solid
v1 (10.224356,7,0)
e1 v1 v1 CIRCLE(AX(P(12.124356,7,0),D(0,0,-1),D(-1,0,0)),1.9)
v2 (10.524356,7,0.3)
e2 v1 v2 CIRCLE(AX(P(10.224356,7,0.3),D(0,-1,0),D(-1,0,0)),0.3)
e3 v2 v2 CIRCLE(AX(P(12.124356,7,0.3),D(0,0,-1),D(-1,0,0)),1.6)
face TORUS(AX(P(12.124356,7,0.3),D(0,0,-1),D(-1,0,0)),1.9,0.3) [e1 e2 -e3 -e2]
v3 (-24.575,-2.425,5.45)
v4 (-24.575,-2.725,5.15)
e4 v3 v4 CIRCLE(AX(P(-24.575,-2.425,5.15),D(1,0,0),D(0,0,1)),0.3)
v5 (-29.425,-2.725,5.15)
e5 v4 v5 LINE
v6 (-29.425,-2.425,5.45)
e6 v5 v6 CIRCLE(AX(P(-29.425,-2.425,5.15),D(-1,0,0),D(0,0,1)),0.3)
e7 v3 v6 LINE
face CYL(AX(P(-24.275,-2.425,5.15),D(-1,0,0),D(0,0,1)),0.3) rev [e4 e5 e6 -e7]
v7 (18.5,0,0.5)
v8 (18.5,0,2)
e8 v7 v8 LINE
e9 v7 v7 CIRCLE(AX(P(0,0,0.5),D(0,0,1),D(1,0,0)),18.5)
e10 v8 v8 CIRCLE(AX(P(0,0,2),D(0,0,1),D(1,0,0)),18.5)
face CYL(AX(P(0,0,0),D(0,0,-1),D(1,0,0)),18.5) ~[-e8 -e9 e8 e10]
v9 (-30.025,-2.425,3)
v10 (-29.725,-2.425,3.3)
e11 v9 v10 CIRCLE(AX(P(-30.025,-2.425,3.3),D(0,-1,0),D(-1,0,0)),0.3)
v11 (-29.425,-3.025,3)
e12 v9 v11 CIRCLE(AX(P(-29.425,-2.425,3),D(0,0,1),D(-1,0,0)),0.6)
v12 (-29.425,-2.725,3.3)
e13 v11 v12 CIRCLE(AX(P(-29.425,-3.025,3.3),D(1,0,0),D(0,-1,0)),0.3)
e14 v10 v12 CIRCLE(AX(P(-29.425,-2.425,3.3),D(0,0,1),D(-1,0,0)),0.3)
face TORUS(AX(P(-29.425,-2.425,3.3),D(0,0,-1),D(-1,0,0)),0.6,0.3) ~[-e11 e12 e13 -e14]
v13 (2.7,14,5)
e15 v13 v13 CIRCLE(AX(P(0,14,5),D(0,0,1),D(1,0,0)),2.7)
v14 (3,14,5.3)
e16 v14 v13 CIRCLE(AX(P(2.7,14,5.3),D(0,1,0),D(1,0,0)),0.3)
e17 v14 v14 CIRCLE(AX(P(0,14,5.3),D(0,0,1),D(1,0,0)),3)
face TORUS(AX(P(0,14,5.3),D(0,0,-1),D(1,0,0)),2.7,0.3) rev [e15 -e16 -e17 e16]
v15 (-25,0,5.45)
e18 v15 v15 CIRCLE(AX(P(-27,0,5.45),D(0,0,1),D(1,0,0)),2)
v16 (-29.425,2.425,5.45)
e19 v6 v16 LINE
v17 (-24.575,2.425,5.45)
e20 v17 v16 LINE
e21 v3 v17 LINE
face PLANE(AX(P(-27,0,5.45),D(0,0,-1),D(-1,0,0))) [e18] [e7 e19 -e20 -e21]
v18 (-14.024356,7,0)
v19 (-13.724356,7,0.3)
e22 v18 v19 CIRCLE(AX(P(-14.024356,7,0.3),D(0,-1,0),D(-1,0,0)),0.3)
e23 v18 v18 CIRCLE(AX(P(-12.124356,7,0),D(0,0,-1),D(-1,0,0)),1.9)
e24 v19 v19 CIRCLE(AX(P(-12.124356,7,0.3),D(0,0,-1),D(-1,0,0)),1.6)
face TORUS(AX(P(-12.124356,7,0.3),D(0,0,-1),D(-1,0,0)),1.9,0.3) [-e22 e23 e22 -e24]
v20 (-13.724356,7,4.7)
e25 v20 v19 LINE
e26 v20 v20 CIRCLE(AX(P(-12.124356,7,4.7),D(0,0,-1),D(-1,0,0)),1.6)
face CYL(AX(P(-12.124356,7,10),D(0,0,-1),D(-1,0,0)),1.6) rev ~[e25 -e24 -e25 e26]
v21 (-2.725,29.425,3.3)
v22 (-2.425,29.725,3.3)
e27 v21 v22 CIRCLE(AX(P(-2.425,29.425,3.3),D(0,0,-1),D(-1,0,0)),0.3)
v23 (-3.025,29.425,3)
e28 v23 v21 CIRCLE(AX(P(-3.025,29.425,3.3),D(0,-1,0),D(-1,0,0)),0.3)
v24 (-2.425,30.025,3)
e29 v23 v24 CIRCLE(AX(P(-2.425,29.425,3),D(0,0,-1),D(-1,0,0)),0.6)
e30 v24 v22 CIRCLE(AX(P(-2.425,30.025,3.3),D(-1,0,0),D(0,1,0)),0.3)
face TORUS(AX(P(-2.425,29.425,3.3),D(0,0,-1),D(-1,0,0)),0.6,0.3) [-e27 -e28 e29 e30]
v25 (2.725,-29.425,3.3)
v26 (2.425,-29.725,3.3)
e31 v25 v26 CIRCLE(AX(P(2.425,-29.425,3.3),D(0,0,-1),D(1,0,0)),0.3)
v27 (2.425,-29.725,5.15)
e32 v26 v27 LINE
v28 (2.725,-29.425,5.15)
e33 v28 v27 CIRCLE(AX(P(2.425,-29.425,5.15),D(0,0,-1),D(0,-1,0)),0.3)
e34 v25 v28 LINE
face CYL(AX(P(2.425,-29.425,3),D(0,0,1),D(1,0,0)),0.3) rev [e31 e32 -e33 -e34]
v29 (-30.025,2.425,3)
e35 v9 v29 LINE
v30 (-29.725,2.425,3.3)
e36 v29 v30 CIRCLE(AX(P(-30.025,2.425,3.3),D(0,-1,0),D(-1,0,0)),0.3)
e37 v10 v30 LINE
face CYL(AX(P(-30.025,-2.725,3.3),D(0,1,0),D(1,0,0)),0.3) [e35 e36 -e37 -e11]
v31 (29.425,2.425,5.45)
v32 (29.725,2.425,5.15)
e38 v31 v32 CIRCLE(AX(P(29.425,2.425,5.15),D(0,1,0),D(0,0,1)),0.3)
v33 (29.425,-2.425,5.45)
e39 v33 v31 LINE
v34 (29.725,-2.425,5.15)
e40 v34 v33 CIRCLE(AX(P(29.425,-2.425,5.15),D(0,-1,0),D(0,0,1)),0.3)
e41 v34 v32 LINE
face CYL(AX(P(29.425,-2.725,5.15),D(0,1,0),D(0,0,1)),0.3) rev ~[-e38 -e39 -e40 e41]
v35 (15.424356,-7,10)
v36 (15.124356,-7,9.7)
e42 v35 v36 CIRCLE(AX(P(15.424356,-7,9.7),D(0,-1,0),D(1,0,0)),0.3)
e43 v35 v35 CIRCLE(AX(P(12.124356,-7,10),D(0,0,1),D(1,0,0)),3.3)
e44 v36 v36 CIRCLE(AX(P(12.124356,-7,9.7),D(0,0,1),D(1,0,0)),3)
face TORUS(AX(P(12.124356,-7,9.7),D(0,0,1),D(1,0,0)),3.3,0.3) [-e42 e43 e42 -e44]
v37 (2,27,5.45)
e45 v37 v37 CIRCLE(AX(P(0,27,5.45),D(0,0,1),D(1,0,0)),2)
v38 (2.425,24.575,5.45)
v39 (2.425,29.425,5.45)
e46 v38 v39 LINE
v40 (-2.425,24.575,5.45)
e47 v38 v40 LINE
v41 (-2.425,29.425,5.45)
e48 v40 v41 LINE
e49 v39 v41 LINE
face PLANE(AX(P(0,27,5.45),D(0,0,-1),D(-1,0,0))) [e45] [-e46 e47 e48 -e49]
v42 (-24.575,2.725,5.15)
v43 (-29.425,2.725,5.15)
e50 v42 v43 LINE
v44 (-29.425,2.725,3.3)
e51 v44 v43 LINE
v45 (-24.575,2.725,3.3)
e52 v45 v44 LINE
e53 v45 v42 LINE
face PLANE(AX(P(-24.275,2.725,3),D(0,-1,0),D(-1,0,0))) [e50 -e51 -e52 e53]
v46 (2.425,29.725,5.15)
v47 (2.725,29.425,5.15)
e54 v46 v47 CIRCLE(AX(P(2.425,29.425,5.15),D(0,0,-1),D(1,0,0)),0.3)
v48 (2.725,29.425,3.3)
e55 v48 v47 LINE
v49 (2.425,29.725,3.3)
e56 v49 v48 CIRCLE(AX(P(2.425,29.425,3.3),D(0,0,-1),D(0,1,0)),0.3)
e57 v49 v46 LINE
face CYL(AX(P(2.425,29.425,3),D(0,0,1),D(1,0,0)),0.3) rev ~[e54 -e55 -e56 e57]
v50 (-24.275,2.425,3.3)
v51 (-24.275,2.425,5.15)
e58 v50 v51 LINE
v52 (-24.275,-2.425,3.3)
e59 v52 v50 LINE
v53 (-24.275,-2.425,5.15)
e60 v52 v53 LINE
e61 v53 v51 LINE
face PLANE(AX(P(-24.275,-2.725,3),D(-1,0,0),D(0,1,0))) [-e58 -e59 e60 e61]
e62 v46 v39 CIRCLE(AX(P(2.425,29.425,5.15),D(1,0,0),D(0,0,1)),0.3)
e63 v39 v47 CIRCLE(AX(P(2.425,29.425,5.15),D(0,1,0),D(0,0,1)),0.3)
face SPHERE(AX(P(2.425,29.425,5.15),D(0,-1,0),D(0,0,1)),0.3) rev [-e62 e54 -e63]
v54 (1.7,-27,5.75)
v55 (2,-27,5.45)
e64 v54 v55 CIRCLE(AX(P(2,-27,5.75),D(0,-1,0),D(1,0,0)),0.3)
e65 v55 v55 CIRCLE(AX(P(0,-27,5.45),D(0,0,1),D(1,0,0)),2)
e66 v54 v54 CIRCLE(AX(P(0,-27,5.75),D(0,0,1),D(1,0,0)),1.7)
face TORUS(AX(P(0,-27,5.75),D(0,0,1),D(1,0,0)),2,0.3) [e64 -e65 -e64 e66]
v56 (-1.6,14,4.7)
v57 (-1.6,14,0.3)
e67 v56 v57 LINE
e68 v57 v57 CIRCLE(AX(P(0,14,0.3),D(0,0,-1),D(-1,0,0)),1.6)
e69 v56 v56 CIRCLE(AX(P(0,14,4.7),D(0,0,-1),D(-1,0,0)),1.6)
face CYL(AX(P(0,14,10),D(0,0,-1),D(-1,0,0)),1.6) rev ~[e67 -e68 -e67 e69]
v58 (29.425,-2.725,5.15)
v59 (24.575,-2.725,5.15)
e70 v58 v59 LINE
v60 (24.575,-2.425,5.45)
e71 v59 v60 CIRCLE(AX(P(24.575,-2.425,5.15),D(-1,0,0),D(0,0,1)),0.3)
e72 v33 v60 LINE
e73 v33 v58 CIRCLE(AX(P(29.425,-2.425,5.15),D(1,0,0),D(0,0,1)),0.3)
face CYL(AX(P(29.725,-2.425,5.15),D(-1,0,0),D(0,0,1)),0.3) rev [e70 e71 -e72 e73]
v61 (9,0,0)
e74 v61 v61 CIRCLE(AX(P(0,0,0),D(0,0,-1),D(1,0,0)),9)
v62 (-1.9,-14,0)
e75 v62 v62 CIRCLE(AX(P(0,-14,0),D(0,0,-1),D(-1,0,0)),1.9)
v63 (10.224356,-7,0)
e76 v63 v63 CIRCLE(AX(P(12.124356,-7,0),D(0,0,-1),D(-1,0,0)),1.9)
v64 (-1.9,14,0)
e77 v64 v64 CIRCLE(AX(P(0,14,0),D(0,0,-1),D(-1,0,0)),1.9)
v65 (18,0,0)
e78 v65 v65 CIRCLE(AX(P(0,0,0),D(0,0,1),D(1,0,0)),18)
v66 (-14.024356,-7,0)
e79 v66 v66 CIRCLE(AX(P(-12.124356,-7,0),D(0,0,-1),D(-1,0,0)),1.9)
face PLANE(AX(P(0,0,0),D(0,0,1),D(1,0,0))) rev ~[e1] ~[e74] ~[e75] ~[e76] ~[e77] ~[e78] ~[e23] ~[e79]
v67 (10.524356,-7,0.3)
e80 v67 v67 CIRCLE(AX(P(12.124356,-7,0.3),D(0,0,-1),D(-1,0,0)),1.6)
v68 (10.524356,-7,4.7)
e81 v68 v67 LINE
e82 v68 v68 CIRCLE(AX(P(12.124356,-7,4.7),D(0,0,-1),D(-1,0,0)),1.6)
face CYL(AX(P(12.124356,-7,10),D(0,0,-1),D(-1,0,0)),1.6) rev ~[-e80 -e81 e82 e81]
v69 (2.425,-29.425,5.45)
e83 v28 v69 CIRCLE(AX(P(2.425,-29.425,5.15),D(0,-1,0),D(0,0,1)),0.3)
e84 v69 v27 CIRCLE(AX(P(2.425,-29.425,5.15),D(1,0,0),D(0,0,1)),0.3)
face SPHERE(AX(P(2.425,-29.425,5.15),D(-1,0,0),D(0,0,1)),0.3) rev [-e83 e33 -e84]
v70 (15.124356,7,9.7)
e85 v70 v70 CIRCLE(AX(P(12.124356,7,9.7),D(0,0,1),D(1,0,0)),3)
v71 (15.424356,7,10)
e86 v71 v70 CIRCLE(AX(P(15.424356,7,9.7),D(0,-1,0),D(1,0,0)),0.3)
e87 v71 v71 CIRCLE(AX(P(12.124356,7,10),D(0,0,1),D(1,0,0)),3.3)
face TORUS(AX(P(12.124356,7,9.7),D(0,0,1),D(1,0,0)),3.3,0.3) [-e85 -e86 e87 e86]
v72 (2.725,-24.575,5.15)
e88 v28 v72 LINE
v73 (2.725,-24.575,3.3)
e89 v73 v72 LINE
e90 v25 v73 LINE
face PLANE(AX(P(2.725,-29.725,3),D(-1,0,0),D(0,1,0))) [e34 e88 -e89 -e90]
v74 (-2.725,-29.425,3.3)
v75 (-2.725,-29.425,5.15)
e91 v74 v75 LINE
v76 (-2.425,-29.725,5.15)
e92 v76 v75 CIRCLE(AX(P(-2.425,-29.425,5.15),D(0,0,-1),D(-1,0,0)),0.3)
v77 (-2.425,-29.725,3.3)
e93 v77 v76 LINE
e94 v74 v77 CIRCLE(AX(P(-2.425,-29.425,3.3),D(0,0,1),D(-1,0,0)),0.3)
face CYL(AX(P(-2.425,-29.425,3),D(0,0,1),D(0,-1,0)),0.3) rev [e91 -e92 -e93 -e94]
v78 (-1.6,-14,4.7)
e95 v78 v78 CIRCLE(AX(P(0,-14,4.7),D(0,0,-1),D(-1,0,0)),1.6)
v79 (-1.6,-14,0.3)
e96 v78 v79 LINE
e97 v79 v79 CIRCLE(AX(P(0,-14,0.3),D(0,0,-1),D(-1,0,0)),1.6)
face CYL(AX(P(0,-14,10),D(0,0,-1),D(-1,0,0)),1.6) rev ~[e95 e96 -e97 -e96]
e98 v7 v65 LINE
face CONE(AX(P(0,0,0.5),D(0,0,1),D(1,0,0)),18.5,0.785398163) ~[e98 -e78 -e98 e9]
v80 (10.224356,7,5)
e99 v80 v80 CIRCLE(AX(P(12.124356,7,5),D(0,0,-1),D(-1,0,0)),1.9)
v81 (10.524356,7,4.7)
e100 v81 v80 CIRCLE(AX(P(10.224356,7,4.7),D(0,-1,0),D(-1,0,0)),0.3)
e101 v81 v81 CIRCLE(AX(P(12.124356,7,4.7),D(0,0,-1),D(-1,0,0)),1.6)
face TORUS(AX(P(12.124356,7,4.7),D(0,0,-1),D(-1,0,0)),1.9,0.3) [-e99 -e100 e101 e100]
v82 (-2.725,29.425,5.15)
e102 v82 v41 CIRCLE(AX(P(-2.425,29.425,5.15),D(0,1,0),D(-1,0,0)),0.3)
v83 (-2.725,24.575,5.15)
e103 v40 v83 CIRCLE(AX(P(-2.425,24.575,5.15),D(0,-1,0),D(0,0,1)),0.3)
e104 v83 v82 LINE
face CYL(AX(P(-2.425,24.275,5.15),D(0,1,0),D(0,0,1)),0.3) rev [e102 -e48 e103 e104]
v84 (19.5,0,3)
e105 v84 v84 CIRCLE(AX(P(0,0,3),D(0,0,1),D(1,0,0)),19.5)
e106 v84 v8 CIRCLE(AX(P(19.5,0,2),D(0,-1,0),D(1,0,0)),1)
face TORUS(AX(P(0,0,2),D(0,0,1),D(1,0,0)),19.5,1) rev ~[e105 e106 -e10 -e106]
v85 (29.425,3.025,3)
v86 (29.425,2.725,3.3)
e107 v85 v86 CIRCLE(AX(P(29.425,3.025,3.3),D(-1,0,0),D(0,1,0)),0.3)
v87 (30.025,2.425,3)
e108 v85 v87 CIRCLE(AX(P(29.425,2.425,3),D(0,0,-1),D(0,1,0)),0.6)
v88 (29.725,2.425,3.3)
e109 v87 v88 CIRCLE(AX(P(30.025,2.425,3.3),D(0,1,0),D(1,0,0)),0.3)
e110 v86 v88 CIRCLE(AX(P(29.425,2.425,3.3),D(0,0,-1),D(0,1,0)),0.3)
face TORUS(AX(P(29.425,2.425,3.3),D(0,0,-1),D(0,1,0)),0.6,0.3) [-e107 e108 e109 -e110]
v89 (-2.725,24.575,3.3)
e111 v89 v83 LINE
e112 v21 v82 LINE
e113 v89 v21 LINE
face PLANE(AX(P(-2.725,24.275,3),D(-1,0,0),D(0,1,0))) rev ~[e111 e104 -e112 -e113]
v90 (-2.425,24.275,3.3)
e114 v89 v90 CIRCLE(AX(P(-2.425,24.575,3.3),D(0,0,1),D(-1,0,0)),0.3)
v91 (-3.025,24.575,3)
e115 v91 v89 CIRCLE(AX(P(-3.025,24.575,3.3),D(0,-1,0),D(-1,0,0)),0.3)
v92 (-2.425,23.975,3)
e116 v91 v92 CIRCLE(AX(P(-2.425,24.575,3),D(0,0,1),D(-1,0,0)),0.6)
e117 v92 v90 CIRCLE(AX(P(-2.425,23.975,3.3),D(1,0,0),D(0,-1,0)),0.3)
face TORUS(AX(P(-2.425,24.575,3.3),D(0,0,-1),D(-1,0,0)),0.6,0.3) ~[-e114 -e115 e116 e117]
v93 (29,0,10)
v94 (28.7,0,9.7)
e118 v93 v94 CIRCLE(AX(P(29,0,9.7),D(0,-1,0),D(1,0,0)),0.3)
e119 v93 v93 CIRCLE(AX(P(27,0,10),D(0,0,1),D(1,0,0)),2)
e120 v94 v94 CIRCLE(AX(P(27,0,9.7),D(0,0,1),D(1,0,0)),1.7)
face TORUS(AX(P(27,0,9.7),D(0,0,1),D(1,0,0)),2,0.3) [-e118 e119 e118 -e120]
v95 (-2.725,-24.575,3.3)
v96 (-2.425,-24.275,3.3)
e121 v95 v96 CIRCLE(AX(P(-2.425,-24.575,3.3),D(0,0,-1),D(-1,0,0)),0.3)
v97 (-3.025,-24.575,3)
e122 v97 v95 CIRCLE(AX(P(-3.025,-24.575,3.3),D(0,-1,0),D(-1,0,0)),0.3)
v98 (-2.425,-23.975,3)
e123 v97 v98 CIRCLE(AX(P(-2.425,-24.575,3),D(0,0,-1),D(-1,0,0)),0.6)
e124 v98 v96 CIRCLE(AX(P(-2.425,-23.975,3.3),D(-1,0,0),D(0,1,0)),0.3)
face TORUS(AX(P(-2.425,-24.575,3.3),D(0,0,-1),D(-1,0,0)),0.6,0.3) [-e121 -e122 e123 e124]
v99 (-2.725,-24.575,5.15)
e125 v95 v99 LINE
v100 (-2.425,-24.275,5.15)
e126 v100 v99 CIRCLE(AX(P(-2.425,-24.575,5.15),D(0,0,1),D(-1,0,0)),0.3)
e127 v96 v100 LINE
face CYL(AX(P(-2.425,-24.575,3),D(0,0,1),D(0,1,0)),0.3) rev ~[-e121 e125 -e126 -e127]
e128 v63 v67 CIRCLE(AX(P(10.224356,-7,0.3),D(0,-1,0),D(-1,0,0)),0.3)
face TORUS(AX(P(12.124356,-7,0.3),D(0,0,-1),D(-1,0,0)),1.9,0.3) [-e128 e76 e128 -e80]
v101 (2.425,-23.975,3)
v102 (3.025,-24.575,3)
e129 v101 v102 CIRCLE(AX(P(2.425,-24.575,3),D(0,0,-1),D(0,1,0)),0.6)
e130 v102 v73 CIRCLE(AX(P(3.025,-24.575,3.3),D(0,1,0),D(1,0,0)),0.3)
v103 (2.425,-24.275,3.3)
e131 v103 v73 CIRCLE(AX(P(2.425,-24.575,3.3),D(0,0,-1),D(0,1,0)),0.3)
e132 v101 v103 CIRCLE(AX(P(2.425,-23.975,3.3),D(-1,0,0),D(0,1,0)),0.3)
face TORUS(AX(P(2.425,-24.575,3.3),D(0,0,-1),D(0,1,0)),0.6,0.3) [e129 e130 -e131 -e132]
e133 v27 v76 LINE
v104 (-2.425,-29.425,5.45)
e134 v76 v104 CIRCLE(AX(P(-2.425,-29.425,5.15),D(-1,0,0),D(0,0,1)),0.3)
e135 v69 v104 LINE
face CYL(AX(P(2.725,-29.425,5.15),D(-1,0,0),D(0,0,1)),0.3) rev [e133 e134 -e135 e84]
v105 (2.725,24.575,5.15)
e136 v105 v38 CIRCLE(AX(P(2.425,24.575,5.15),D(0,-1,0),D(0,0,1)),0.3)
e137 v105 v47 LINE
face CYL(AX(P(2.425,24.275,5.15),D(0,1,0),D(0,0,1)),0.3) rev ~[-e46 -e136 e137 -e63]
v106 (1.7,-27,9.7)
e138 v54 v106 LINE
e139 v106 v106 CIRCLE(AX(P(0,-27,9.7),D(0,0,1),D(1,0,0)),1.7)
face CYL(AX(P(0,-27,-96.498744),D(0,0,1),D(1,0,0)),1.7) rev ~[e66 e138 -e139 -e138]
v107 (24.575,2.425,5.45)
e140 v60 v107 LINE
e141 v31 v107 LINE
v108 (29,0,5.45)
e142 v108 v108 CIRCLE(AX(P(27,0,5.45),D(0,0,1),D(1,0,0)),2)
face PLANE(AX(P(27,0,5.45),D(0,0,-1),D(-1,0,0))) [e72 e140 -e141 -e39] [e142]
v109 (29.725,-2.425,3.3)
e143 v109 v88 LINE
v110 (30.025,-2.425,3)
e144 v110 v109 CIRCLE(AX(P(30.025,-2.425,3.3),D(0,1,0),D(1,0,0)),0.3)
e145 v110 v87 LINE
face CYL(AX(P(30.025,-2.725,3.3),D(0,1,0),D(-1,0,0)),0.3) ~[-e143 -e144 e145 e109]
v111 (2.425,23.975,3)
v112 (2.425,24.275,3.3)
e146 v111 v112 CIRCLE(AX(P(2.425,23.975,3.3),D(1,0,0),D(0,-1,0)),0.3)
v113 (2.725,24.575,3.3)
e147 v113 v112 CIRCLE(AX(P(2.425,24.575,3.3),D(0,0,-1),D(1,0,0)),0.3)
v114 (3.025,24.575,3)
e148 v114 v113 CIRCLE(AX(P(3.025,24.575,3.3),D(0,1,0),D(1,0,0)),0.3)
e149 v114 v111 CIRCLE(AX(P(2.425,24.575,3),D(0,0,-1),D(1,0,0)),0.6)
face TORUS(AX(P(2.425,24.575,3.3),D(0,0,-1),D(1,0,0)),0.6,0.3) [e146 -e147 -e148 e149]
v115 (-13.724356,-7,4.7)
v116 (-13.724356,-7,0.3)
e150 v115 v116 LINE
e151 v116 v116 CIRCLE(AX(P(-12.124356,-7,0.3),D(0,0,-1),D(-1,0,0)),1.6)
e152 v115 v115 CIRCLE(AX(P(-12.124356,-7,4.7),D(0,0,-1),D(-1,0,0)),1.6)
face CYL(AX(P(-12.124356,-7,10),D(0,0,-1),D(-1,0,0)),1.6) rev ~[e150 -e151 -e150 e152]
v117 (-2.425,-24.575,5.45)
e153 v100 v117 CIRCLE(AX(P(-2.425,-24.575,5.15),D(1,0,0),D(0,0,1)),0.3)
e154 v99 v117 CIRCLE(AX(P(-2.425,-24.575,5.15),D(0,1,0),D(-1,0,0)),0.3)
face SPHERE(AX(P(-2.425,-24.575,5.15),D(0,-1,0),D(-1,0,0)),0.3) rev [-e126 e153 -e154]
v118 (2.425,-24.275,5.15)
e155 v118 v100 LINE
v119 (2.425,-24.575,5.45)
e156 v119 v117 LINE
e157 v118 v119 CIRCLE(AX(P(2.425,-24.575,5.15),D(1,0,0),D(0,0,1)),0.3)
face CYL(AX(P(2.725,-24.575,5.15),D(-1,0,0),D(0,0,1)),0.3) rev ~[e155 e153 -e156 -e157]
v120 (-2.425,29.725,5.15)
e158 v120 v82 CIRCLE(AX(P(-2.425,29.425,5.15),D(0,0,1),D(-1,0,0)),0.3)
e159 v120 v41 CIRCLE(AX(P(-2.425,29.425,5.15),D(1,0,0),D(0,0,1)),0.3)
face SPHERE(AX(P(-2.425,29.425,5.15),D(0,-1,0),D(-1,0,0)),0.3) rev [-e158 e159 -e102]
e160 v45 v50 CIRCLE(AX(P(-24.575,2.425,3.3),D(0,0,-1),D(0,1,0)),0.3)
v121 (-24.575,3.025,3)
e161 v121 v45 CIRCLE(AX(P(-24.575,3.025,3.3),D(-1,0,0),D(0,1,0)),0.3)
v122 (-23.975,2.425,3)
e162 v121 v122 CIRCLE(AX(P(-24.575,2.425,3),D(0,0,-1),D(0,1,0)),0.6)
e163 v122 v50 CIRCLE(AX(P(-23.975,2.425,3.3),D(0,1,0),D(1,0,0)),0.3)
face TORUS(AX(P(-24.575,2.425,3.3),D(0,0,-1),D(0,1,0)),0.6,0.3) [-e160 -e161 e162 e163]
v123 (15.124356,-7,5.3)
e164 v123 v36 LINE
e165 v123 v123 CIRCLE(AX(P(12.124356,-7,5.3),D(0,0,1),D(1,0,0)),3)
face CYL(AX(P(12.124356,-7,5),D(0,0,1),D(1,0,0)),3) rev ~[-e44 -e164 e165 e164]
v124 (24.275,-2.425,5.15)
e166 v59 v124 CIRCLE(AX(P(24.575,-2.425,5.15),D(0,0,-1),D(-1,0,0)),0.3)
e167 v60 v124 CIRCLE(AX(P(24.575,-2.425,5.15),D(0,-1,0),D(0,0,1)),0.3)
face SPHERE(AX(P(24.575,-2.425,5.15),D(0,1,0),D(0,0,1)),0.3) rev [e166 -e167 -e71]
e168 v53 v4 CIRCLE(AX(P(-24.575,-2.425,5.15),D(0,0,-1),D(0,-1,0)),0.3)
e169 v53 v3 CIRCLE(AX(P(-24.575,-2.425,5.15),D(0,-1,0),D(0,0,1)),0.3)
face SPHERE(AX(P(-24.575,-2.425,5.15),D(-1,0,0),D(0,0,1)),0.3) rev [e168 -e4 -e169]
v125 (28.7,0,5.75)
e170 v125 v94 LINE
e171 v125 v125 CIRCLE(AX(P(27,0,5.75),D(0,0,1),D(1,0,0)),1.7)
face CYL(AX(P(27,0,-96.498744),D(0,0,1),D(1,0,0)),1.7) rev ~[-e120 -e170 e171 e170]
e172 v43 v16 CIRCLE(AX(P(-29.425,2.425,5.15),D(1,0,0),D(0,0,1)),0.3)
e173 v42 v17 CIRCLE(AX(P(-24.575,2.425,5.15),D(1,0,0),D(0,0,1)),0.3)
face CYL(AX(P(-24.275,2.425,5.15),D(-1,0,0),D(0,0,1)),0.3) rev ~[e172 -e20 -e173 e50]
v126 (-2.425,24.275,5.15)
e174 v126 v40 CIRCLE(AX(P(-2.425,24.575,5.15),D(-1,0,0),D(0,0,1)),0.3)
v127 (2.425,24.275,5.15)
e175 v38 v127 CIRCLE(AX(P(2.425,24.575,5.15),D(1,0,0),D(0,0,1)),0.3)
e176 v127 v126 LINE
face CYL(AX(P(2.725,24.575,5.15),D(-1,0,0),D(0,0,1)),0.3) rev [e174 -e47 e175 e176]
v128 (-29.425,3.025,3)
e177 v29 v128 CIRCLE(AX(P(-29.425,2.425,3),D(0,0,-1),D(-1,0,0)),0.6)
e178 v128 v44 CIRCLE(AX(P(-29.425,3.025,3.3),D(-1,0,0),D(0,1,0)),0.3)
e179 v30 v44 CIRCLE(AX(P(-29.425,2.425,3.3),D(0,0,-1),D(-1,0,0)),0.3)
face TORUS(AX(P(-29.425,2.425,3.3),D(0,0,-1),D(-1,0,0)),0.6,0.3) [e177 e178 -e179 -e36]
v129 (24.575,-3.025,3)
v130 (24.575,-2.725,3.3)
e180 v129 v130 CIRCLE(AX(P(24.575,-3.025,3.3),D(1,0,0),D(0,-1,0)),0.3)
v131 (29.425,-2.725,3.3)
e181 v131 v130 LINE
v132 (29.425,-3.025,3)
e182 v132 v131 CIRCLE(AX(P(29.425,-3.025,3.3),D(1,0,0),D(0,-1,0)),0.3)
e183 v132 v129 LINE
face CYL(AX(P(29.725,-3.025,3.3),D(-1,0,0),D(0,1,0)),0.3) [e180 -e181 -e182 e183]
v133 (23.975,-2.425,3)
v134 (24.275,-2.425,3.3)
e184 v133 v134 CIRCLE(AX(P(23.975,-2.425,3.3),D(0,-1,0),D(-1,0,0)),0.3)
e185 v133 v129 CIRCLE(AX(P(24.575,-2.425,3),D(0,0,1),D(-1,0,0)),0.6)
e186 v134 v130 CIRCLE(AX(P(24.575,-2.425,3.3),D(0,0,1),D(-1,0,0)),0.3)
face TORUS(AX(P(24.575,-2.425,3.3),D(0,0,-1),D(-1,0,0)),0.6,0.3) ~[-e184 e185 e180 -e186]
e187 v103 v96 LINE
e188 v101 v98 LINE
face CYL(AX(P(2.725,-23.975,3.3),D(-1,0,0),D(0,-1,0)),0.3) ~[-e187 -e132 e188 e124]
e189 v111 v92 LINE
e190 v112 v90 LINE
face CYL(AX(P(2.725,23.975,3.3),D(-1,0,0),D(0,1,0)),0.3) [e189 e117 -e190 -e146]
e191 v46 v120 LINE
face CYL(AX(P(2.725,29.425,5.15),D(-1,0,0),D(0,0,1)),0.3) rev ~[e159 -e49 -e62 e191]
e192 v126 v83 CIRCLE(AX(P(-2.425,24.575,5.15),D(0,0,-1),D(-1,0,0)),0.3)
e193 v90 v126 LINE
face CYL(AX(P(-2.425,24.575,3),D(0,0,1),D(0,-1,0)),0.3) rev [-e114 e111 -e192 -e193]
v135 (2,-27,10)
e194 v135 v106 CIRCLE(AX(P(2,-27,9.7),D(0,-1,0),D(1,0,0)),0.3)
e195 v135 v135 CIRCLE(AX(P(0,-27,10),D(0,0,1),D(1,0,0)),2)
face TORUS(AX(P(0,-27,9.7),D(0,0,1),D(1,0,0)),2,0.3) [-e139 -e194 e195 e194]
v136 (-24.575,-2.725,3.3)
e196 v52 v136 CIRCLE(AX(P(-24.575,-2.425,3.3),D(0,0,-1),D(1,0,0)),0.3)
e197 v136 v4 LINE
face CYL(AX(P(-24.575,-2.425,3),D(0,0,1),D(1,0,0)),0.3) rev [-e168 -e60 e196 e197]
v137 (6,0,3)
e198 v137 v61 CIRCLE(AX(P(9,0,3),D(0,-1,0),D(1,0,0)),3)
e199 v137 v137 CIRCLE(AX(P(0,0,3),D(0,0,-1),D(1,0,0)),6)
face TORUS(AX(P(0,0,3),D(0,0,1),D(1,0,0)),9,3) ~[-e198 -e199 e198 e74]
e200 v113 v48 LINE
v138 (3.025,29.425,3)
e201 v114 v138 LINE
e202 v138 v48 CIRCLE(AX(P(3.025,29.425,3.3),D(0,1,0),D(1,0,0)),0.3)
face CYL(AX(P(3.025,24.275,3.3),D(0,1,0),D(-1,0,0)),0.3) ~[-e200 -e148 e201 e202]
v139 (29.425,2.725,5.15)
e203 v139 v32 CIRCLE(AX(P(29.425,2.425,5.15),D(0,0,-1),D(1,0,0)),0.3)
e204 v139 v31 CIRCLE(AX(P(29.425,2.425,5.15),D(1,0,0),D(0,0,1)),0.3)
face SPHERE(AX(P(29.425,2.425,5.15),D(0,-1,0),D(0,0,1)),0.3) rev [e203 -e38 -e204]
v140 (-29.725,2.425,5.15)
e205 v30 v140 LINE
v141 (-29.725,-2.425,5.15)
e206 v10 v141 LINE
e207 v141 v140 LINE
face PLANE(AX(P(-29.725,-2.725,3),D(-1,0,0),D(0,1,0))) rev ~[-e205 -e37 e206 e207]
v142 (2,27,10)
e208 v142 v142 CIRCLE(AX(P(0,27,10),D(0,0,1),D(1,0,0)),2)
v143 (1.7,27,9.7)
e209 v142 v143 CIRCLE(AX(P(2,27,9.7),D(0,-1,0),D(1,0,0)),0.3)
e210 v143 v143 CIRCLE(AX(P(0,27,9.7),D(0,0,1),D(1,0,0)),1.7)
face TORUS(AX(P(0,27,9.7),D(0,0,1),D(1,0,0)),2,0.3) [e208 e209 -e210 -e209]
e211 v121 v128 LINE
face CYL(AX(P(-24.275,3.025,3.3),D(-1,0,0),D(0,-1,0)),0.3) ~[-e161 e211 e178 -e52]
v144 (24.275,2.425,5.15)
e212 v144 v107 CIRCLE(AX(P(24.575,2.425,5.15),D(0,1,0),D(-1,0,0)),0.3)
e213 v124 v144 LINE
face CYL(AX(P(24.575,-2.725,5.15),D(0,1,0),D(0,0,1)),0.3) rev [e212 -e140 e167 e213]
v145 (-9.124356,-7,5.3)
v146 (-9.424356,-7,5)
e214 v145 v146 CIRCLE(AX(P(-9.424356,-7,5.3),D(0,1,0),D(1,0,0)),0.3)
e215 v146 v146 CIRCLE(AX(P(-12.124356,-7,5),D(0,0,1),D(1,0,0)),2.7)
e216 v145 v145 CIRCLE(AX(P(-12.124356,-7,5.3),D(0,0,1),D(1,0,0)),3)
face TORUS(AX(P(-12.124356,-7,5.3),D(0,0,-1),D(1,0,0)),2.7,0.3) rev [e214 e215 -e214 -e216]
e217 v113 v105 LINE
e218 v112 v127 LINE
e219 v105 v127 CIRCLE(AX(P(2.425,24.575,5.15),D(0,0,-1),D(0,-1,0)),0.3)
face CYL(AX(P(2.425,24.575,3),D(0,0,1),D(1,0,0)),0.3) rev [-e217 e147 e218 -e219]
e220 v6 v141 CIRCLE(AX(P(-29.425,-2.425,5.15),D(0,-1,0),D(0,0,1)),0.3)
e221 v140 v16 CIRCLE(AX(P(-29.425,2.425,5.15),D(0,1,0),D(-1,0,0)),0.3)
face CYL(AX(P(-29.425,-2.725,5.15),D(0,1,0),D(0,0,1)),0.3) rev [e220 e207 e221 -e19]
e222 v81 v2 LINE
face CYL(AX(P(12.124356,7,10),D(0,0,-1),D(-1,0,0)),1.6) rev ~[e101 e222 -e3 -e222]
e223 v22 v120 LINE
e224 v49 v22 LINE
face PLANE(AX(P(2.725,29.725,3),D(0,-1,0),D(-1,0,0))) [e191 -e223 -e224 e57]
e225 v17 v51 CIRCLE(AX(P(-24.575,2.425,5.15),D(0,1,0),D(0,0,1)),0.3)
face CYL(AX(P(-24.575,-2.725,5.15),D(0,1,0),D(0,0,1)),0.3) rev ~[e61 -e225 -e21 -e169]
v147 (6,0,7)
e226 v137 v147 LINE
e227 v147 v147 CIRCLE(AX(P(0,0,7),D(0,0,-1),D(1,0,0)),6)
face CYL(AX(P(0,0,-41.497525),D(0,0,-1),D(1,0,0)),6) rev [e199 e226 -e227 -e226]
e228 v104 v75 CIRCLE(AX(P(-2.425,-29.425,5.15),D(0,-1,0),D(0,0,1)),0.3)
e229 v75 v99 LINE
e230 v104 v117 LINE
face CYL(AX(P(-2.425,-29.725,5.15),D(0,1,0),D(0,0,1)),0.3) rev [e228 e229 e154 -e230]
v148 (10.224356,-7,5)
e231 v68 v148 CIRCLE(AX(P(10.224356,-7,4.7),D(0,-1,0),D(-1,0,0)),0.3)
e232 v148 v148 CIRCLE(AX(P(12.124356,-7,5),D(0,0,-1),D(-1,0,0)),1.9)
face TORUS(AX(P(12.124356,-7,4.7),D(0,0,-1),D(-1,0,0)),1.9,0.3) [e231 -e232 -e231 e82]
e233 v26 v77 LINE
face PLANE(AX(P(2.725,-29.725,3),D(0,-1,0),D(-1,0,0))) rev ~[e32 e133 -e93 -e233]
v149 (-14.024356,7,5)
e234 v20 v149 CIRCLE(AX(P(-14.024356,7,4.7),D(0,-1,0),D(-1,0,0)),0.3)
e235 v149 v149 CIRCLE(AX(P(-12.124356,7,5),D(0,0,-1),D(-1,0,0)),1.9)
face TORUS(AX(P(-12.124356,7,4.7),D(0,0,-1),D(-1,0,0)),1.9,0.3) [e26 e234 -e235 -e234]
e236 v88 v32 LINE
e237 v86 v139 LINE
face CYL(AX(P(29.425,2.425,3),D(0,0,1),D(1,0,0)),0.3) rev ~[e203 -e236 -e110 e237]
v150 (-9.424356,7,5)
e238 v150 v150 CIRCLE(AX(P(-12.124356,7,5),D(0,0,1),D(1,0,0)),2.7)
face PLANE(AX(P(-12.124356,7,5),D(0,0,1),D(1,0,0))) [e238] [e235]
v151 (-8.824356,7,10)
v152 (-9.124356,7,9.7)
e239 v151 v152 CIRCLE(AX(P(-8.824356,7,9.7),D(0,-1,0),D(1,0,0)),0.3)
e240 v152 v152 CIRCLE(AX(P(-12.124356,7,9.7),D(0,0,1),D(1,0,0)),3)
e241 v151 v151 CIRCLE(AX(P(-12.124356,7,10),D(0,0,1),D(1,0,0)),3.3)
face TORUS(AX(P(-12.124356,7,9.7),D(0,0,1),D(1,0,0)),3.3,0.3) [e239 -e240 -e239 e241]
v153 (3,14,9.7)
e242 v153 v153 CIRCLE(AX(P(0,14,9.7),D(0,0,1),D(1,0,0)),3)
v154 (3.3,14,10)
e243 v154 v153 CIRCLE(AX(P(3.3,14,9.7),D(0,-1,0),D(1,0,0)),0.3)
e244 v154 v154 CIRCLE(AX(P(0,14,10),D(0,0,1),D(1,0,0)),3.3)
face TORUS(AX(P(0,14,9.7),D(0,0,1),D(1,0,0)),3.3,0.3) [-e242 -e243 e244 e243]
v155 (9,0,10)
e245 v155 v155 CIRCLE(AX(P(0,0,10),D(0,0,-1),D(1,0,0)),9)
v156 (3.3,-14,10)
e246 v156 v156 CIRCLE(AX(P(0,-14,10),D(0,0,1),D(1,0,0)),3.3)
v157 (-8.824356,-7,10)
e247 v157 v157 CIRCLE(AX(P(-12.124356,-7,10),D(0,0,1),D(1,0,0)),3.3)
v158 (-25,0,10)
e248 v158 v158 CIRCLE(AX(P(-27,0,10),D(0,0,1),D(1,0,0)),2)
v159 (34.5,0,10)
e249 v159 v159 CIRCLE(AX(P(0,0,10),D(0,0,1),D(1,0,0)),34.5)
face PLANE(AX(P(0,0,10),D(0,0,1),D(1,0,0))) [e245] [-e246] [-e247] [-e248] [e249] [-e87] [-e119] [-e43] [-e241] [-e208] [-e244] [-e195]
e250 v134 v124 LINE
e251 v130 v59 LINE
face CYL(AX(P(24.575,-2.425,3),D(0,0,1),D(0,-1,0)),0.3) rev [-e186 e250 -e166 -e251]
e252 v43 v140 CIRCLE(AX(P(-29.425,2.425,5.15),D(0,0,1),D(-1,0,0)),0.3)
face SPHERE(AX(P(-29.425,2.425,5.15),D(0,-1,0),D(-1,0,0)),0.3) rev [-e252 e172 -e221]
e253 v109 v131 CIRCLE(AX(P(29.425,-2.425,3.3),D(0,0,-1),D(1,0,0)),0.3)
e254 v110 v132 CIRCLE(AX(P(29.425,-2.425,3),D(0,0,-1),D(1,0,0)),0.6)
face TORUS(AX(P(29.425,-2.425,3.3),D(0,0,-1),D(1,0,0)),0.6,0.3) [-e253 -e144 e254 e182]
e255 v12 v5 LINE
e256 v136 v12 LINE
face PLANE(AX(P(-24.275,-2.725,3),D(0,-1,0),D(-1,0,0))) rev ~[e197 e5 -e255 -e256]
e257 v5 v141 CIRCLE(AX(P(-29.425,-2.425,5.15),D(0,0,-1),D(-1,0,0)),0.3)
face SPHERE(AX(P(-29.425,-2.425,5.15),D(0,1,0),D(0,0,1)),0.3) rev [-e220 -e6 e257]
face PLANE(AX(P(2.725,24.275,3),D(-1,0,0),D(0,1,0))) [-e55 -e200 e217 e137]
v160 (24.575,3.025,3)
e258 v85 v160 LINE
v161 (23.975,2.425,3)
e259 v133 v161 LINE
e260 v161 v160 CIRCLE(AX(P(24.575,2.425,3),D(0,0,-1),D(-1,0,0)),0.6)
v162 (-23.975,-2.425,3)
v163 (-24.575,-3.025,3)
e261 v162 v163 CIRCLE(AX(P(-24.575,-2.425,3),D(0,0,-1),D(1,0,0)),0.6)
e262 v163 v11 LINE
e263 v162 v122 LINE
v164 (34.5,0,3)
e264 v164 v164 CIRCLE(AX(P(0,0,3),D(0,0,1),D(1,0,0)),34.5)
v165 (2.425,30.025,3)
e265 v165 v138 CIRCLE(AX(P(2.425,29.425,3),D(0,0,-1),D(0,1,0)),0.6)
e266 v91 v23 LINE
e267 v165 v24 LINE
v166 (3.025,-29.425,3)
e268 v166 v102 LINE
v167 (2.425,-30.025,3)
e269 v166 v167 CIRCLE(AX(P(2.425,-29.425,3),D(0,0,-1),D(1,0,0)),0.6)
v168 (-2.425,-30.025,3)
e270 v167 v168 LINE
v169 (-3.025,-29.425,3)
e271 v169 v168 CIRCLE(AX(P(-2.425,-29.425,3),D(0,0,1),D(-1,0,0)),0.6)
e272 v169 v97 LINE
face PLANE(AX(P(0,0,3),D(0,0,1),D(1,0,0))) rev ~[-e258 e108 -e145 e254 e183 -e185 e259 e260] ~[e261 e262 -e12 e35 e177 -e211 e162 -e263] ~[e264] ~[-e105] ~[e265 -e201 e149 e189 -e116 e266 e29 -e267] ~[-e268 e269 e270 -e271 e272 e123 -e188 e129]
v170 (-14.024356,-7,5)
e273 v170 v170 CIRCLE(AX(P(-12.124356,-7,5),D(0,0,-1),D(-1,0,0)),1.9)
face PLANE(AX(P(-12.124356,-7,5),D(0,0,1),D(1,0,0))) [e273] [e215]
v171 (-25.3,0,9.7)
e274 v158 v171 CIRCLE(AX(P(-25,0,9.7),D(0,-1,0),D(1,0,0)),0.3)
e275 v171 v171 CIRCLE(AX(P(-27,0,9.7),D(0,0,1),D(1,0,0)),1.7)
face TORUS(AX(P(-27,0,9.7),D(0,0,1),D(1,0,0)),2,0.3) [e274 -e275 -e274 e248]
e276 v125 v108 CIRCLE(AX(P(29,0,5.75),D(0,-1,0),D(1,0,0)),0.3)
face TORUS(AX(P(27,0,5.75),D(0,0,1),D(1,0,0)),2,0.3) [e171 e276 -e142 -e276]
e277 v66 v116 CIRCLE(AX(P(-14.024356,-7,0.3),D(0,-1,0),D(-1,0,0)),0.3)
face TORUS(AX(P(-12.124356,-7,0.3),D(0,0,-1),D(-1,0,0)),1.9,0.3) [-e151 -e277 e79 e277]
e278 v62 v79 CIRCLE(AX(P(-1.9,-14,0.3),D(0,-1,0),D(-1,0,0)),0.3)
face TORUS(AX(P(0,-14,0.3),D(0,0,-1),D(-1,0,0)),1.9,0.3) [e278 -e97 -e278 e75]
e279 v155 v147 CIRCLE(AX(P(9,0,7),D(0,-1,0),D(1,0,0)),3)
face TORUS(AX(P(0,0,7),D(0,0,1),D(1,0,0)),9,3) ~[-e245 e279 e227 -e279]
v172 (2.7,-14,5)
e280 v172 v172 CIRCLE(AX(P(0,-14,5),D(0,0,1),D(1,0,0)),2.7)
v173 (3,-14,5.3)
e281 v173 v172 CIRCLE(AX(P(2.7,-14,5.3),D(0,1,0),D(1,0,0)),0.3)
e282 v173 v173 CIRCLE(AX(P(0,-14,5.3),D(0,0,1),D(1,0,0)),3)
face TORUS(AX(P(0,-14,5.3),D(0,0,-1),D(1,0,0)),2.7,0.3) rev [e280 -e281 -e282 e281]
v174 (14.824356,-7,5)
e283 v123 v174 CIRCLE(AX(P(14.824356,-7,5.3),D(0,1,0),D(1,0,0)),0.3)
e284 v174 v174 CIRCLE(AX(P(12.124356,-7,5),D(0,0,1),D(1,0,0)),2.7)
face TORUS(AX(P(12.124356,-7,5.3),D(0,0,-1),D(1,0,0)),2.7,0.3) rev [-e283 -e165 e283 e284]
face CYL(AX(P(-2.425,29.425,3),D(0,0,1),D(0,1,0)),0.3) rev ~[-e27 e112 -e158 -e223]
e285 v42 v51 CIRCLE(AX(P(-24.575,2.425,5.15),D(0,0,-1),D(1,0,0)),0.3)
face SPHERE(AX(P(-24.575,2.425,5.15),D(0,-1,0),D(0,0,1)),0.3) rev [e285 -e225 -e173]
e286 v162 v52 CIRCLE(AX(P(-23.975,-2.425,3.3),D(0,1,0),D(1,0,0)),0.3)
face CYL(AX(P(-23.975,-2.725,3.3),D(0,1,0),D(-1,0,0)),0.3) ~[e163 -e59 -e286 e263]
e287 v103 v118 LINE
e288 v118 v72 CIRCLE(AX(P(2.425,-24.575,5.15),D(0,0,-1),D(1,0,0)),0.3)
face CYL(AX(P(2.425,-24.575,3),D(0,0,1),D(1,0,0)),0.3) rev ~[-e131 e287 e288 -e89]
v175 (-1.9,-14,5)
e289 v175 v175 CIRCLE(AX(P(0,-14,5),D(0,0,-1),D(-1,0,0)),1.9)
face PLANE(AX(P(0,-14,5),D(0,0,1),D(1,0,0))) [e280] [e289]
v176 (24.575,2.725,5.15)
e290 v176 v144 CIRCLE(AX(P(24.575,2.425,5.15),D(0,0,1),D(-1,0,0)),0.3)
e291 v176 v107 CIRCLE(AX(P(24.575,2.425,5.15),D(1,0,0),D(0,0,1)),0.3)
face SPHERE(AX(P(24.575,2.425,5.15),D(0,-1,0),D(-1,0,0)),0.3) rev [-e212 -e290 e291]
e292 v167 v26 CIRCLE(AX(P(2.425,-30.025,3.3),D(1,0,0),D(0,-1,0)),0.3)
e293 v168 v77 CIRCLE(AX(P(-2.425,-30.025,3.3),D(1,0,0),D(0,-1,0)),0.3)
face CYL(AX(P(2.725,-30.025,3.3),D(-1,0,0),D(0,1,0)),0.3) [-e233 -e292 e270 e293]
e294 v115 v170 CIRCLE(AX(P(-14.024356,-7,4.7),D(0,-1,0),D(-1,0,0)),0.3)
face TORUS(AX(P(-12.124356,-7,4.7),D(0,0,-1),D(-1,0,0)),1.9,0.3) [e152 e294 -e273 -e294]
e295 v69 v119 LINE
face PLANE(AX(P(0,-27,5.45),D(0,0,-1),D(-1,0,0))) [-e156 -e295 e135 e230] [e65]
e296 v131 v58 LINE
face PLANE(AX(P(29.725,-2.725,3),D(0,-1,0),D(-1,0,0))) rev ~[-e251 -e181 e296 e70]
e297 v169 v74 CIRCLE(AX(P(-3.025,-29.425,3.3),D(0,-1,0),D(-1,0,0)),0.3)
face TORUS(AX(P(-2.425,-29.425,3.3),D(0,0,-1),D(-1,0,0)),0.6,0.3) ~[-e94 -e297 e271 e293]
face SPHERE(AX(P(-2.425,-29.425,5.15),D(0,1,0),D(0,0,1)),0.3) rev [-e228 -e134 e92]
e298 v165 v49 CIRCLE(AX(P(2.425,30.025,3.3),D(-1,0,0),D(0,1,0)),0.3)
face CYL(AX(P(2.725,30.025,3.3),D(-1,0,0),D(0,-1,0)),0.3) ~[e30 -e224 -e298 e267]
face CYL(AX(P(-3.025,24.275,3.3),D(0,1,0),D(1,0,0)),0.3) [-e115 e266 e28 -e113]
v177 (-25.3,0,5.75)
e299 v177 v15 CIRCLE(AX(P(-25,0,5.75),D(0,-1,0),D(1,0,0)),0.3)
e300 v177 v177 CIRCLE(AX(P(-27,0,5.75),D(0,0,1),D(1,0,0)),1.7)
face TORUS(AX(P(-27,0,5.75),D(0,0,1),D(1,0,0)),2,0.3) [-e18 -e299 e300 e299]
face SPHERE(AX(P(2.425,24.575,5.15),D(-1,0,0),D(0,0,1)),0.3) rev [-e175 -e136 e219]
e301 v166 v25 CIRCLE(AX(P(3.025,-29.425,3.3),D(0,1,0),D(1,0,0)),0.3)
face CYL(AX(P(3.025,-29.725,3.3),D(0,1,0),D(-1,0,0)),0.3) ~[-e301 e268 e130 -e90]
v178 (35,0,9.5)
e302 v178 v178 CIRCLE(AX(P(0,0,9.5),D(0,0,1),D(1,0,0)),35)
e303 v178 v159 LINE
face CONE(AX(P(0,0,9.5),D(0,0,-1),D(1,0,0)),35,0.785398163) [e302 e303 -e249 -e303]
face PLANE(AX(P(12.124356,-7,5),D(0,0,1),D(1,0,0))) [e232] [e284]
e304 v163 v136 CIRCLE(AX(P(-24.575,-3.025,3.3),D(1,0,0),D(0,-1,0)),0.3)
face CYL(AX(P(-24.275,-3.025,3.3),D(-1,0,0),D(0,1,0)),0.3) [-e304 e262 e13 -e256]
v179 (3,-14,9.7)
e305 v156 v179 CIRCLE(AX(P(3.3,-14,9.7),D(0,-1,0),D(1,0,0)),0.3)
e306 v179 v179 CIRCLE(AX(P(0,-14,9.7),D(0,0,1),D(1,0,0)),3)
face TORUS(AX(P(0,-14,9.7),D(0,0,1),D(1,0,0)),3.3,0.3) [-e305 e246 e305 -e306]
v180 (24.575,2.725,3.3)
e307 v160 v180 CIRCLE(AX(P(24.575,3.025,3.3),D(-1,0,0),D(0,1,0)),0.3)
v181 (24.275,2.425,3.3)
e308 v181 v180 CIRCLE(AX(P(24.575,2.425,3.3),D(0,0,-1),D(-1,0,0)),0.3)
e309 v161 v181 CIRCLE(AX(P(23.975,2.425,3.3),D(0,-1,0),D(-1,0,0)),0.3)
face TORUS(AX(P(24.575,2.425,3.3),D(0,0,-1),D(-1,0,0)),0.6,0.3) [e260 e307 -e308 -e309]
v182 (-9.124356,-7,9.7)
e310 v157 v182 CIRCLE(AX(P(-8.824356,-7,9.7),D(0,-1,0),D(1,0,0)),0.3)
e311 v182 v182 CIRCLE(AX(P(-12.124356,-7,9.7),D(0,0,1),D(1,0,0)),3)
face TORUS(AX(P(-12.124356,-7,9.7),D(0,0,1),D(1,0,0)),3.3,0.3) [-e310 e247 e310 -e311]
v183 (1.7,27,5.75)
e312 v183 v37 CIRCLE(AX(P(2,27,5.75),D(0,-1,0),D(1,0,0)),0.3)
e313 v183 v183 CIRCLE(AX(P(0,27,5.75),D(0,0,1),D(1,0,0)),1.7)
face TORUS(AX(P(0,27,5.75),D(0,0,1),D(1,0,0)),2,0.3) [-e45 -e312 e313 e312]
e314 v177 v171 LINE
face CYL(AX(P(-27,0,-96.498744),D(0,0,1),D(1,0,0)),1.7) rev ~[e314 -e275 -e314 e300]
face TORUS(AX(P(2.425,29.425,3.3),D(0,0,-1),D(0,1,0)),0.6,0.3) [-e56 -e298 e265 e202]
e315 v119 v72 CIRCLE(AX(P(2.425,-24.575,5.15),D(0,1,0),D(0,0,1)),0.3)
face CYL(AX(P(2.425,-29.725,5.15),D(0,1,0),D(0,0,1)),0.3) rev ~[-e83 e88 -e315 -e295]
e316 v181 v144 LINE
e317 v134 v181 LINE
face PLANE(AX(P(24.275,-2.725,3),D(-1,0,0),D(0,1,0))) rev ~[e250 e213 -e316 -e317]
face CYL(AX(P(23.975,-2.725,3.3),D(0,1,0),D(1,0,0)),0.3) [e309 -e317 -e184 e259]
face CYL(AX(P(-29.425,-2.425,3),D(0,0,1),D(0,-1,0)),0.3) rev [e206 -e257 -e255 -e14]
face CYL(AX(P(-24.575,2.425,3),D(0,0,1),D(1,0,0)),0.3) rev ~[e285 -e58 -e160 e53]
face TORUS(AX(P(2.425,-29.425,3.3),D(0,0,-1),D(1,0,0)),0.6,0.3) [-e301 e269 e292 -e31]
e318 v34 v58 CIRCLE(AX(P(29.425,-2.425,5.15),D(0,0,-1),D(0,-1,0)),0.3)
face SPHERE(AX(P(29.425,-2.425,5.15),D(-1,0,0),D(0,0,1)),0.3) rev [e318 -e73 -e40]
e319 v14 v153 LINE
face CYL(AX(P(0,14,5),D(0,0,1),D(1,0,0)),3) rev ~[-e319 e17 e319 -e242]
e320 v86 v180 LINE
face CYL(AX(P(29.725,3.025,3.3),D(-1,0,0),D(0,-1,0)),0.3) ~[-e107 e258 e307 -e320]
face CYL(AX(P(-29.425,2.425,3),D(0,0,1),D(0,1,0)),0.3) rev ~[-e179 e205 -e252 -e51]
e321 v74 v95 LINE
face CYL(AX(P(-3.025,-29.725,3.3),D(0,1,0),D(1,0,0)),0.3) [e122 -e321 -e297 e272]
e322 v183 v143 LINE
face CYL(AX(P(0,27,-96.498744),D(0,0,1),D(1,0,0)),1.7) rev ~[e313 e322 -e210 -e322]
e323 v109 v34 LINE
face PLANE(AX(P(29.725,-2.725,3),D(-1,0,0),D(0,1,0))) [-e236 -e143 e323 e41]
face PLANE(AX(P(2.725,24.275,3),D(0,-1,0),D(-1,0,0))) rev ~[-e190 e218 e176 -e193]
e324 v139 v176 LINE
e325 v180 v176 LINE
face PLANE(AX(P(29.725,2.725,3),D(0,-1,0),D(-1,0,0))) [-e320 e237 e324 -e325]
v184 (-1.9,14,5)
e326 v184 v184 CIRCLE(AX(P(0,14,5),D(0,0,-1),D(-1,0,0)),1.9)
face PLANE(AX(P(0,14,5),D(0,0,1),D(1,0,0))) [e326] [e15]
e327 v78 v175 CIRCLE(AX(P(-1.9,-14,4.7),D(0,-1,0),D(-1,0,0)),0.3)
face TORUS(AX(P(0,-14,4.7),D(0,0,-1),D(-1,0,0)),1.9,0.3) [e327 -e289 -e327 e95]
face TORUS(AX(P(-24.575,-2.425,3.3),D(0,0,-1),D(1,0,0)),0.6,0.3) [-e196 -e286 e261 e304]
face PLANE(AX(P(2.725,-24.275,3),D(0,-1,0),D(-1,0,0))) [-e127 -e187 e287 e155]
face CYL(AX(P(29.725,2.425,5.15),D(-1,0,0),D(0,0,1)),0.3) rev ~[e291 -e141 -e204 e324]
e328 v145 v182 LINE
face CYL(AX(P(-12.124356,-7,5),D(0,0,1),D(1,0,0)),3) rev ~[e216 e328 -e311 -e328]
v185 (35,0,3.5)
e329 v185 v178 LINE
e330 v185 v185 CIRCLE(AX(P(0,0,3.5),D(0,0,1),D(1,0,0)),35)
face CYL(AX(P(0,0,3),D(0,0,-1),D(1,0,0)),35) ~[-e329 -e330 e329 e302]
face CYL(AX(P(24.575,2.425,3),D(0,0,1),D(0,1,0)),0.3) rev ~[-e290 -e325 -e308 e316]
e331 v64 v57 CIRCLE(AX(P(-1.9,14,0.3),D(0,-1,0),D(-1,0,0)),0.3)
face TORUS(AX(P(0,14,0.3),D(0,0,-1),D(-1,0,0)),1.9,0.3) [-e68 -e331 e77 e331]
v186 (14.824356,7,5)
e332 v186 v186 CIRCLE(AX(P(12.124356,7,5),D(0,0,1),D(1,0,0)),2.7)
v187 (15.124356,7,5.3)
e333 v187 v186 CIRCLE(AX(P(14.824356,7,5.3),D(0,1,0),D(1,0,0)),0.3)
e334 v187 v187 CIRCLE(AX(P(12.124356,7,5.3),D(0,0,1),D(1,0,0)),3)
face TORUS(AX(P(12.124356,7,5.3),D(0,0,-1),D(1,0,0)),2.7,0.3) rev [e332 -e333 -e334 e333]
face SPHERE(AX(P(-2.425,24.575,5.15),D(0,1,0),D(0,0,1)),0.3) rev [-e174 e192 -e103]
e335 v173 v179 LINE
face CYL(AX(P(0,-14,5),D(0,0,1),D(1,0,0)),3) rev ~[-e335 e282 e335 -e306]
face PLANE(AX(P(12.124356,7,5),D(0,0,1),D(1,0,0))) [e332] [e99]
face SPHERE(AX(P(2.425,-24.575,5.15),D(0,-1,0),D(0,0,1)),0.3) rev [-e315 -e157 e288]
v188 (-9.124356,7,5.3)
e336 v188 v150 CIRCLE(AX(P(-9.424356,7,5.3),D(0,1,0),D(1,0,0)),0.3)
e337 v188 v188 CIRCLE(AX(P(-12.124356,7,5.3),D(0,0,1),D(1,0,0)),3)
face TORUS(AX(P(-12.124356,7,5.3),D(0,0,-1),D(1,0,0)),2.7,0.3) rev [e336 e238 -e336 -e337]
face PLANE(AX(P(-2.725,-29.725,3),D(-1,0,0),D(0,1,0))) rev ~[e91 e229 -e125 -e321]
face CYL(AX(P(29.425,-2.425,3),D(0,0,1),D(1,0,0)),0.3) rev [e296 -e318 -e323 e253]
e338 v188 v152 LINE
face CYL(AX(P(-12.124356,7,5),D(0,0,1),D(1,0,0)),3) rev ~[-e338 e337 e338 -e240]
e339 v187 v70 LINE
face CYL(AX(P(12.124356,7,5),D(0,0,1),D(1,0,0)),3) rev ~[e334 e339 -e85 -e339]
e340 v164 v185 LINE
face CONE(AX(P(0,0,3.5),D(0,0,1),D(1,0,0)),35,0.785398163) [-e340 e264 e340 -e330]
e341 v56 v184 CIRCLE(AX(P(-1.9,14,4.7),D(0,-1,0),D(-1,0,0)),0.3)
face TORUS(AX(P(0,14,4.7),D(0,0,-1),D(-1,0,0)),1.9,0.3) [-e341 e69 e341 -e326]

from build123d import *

# Parameters (mm, degrees)
SKETCH_2_R                   = 18.5
EXTRUDE_1_DEPTH              = 3
SKETCH_3_R                   = 35
EXTRUDE_2_DEPTH              = 7
HOLE_WIZARD_M3_1_D           = 3.2
HOLE_WIZARD_M3_1_DEPTH       = 14.03862301
HOLE_WIZARD_M3_1_CBORE_D     = 6
HOLE_WIZARD_M3_1_CBORE_DEPTH = 5
HOLE_WIZARD_M3_1_TIP         = 0.96137699
CUT_EXTRUDE_1_DEPTH          = 51.497524692
CUT_EXTRUDE_1_DEPTH_BACK     = 51.497524692
SKETCH_6_R                   = 6
FILLET_1_R                   = 1
CHAMFER_1_SIZE               = 0.5
FILLET_2_R                   = 0.3
FILLET_3_R                   = 3
FILLET_4_R                   = 3
HOLE_WIZARD_M3_1_2_D         = 3.4
SKETCH_10_W                  = 5.45
SKETCH_10_H                  = 5.45
CUT_EXTRUDE_2_DEPTH          = 2.45
FILLET_5_R                   = 0.3


with BuildPart() as part:
    # 스케치2 → 보스-돌출1 (new body)
    with BuildSketch(Plane.XY):
        Circle(SKETCH_2_R)
    extrude(amount=EXTRUDE_1_DEPTH)

    # 스케치3 → 보스-돌출2 (add)
    with BuildSketch(Plane.XY.offset(3)):
        Circle(SKETCH_3_R)
    extrude(amount=EXTRUDE_2_DEPTH)

    # Hole Wizard M3 _ _ _ _ _ _1
    with Locations(Plane.XY.offset(10)):
        with Locations((12.124355653, -7), (12.124355653, 7), (0, 14), (-12.124355653, 7), (0, -14), (-12.124355653, -7)):
            CounterBoreHole(HOLE_WIZARD_M3_1_D / 2, HOLE_WIZARD_M3_1_CBORE_D / 2, HOLE_WIZARD_M3_1_CBORE_DEPTH, depth=HOLE_WIZARD_M3_1_DEPTH)
            with Locations((0, 0, -(HOLE_WIZARD_M3_1_DEPTH + HOLE_WIZARD_M3_1_TIP / 2))):  # 118° drill point
                Cone(0, HOLE_WIZARD_M3_1_D / 2, HOLE_WIZARD_M3_1_TIP, mode=Mode.SUBTRACT)

    # 스케치6 → 컷-돌출1 (cut, two sides: drawn at the far end of the back side and taken through both)
    with BuildSketch(Plane.XY.offset(10).offset(-CUT_EXTRUDE_1_DEPTH_BACK)):
        Circle(SKETCH_6_R)
    extrude(amount=CUT_EXTRUDE_1_DEPTH + CUT_EXTRUDE_1_DEPTH_BACK, mode=Mode.SUBTRACT)

    # 필렛1
    fillet_1_edges = [part.edges().sort_by_distance(p)[0] for p in [
        (-18.5, 0, 3),
    ]]
    fillet(fillet_1_edges, radius=FILLET_1_R)

    # 모따기1
    chamfer_1_edges = [part.edges().sort_by_distance(p)[0] for p in [
        (-18.5, 0, 0),
        (-35, 0, 3),
        (-35, 0, 10),
    ]]
    chamfer(chamfer_1_edges, length=CHAMFER_1_SIZE)

    # 필렛2
    fillet_2_edges = [part.edges().sort_by_distance(p)[0] for p in [
        (-10.524355653, -7, 0),
        (-15.124355653, -7, 10),
        (-10.524355653, -7, 5),
        (-15.124355653, -7, 5),
        (1.6, -14, 0),
        (-3, -14, 10),
        (1.6, -14, 5),
        (-3, -14, 5),
        (-10.524355653, 7, 0),
        (-15.124355653, 7, 10),
        (-10.524355653, 7, 5),
        (-15.124355653, 7, 5),
        (1.6, 14, 0),
        (-3, 14, 10),
        (1.6, 14, 5),
        (-3, 14, 5),
        (13.724355653, 7, 0),
        (9.124355653, 7, 10),
        (13.724355653, 7, 5),
        (9.124355653, 7, 5),
        (13.724355653, -7, 0),
        (9.124355653, -7, 10),
        (13.724355653, -7, 5),
        (9.124355653, -7, 5),
    ]]
    fillet(fillet_2_edges, radius=FILLET_2_R)

    # 필렛3
    fillet_3_edges = [part.edges().sort_by_distance(p)[0] for p in [
        (-6, 0, 10),
    ]]
    fillet(fillet_3_edges, radius=FILLET_3_R)

    # 필렛4
    fillet_4_edges = [part.edges().sort_by_distance(p)[0] for p in [
        (-6, 0, 0),
    ]]
    fillet(fillet_4_edges, radius=FILLET_4_R)

    # Hole Wizard M3 _ _1 2 (through all)
    with Locations(Plane(origin=(0, 0, 3), x_dir=(-1, 0, 0), z_dir=(0, 0, -1))):
        with Locations((0, 27), (27, 0), (0, -27), (-27, 0)):
            Hole(HOLE_WIZARD_M3_1_2_D / 2)

    # 스케치10 → 컷-돌출2 (cut)
    with BuildSketch(Plane(origin=(0, 0, 3), x_dir=(-1, 0, 0), z_dir=(0, 0, -1))):
        with Locations((-27, 0)):
            Rectangle(SKETCH_10_W, SKETCH_10_H)
        with Locations((0, 27)):
            Rectangle(SKETCH_10_W, SKETCH_10_H)
        with Locations((27, 0)):
            Rectangle(SKETCH_10_W, SKETCH_10_H)
        with Locations((0, -27)):
            Rectangle(SKETCH_10_W, SKETCH_10_H)
    extrude(amount=-CUT_EXTRUDE_2_DEPTH, mode=Mode.SUBTRACT)

    # 필렛5
    fillet_5_edges = [part.edges().sort_by_distance(p)[0] for p in [
        (25.3, 0, 10),
        (-1.7, -27, 10),
        (-28.7, 0, 10),
        (-1.7, 27, 10),
        (25.3, 0, 5.45),
        (24.275, 0, 3),
        (27, 2.725, 3),
        (29.725, 0, 3),
        (27, -2.725, 3),
        (24.275, 0, 5.45),
        (24.275, 2.725, 4.225),
        (27, -2.725, 5.45),
        (24.275, -2.725, 4.225),
        (29.725, 0, 5.45),
        (29.725, -2.725, 4.225),
        (27, 2.725, 5.45),
        (29.725, 2.725, 4.225),
        (-1.7, 27, 5.45),
        (-2.725, 27, 3),
        (0, 29.725, 3),
        (2.725, 27, 3),
        (0, 24.275, 3),
        (-2.725, 27, 5.45),
        (-2.725, 29.725, 4.225),
        (0, 24.275, 5.45),
        (-2.725, 24.275, 4.225),
        (2.725, 27, 5.45),
        (2.725, 24.275, 4.225),
        (0, 29.725, 5.45),
        (2.725, 29.725, 4.225),
        (-28.7, 0, 5.45),
        (-29.725, 0, 3),
        (-27, 2.725, 3),
        (-24.275, 0, 3),
        (-27, -2.725, 3),
        (-29.725, 0, 5.45),
        (-29.725, 2.725, 4.225),
        (-27, -2.725, 5.45),
        (-29.725, -2.725, 4.225),
        (-24.275, 0, 5.45),
        (-24.275, -2.725, 4.225),
        (-27, 2.725, 5.45),
        (-24.275, 2.725, 4.225),
        (-1.7, -27, 5.45),
        (-2.725, -27, 3),
        (0, -24.275, 3),
        (2.725, -27, 3),
        (0, -29.725, 3),
        (-2.725, -27, 5.45),
        (-2.725, -24.275, 4.225),
        (0, -29.725, 5.45),
        (-2.725, -29.725, 4.225),
        (2.725, -27, 5.45),
        (2.725, -29.725, 4.225),
        (0, -24.275, 5.45),
        (2.725, -24.275, 4.225),
    ]]
    fillet(fillet_5_edges, radius=FILLET_5_R)


solid = part.part
